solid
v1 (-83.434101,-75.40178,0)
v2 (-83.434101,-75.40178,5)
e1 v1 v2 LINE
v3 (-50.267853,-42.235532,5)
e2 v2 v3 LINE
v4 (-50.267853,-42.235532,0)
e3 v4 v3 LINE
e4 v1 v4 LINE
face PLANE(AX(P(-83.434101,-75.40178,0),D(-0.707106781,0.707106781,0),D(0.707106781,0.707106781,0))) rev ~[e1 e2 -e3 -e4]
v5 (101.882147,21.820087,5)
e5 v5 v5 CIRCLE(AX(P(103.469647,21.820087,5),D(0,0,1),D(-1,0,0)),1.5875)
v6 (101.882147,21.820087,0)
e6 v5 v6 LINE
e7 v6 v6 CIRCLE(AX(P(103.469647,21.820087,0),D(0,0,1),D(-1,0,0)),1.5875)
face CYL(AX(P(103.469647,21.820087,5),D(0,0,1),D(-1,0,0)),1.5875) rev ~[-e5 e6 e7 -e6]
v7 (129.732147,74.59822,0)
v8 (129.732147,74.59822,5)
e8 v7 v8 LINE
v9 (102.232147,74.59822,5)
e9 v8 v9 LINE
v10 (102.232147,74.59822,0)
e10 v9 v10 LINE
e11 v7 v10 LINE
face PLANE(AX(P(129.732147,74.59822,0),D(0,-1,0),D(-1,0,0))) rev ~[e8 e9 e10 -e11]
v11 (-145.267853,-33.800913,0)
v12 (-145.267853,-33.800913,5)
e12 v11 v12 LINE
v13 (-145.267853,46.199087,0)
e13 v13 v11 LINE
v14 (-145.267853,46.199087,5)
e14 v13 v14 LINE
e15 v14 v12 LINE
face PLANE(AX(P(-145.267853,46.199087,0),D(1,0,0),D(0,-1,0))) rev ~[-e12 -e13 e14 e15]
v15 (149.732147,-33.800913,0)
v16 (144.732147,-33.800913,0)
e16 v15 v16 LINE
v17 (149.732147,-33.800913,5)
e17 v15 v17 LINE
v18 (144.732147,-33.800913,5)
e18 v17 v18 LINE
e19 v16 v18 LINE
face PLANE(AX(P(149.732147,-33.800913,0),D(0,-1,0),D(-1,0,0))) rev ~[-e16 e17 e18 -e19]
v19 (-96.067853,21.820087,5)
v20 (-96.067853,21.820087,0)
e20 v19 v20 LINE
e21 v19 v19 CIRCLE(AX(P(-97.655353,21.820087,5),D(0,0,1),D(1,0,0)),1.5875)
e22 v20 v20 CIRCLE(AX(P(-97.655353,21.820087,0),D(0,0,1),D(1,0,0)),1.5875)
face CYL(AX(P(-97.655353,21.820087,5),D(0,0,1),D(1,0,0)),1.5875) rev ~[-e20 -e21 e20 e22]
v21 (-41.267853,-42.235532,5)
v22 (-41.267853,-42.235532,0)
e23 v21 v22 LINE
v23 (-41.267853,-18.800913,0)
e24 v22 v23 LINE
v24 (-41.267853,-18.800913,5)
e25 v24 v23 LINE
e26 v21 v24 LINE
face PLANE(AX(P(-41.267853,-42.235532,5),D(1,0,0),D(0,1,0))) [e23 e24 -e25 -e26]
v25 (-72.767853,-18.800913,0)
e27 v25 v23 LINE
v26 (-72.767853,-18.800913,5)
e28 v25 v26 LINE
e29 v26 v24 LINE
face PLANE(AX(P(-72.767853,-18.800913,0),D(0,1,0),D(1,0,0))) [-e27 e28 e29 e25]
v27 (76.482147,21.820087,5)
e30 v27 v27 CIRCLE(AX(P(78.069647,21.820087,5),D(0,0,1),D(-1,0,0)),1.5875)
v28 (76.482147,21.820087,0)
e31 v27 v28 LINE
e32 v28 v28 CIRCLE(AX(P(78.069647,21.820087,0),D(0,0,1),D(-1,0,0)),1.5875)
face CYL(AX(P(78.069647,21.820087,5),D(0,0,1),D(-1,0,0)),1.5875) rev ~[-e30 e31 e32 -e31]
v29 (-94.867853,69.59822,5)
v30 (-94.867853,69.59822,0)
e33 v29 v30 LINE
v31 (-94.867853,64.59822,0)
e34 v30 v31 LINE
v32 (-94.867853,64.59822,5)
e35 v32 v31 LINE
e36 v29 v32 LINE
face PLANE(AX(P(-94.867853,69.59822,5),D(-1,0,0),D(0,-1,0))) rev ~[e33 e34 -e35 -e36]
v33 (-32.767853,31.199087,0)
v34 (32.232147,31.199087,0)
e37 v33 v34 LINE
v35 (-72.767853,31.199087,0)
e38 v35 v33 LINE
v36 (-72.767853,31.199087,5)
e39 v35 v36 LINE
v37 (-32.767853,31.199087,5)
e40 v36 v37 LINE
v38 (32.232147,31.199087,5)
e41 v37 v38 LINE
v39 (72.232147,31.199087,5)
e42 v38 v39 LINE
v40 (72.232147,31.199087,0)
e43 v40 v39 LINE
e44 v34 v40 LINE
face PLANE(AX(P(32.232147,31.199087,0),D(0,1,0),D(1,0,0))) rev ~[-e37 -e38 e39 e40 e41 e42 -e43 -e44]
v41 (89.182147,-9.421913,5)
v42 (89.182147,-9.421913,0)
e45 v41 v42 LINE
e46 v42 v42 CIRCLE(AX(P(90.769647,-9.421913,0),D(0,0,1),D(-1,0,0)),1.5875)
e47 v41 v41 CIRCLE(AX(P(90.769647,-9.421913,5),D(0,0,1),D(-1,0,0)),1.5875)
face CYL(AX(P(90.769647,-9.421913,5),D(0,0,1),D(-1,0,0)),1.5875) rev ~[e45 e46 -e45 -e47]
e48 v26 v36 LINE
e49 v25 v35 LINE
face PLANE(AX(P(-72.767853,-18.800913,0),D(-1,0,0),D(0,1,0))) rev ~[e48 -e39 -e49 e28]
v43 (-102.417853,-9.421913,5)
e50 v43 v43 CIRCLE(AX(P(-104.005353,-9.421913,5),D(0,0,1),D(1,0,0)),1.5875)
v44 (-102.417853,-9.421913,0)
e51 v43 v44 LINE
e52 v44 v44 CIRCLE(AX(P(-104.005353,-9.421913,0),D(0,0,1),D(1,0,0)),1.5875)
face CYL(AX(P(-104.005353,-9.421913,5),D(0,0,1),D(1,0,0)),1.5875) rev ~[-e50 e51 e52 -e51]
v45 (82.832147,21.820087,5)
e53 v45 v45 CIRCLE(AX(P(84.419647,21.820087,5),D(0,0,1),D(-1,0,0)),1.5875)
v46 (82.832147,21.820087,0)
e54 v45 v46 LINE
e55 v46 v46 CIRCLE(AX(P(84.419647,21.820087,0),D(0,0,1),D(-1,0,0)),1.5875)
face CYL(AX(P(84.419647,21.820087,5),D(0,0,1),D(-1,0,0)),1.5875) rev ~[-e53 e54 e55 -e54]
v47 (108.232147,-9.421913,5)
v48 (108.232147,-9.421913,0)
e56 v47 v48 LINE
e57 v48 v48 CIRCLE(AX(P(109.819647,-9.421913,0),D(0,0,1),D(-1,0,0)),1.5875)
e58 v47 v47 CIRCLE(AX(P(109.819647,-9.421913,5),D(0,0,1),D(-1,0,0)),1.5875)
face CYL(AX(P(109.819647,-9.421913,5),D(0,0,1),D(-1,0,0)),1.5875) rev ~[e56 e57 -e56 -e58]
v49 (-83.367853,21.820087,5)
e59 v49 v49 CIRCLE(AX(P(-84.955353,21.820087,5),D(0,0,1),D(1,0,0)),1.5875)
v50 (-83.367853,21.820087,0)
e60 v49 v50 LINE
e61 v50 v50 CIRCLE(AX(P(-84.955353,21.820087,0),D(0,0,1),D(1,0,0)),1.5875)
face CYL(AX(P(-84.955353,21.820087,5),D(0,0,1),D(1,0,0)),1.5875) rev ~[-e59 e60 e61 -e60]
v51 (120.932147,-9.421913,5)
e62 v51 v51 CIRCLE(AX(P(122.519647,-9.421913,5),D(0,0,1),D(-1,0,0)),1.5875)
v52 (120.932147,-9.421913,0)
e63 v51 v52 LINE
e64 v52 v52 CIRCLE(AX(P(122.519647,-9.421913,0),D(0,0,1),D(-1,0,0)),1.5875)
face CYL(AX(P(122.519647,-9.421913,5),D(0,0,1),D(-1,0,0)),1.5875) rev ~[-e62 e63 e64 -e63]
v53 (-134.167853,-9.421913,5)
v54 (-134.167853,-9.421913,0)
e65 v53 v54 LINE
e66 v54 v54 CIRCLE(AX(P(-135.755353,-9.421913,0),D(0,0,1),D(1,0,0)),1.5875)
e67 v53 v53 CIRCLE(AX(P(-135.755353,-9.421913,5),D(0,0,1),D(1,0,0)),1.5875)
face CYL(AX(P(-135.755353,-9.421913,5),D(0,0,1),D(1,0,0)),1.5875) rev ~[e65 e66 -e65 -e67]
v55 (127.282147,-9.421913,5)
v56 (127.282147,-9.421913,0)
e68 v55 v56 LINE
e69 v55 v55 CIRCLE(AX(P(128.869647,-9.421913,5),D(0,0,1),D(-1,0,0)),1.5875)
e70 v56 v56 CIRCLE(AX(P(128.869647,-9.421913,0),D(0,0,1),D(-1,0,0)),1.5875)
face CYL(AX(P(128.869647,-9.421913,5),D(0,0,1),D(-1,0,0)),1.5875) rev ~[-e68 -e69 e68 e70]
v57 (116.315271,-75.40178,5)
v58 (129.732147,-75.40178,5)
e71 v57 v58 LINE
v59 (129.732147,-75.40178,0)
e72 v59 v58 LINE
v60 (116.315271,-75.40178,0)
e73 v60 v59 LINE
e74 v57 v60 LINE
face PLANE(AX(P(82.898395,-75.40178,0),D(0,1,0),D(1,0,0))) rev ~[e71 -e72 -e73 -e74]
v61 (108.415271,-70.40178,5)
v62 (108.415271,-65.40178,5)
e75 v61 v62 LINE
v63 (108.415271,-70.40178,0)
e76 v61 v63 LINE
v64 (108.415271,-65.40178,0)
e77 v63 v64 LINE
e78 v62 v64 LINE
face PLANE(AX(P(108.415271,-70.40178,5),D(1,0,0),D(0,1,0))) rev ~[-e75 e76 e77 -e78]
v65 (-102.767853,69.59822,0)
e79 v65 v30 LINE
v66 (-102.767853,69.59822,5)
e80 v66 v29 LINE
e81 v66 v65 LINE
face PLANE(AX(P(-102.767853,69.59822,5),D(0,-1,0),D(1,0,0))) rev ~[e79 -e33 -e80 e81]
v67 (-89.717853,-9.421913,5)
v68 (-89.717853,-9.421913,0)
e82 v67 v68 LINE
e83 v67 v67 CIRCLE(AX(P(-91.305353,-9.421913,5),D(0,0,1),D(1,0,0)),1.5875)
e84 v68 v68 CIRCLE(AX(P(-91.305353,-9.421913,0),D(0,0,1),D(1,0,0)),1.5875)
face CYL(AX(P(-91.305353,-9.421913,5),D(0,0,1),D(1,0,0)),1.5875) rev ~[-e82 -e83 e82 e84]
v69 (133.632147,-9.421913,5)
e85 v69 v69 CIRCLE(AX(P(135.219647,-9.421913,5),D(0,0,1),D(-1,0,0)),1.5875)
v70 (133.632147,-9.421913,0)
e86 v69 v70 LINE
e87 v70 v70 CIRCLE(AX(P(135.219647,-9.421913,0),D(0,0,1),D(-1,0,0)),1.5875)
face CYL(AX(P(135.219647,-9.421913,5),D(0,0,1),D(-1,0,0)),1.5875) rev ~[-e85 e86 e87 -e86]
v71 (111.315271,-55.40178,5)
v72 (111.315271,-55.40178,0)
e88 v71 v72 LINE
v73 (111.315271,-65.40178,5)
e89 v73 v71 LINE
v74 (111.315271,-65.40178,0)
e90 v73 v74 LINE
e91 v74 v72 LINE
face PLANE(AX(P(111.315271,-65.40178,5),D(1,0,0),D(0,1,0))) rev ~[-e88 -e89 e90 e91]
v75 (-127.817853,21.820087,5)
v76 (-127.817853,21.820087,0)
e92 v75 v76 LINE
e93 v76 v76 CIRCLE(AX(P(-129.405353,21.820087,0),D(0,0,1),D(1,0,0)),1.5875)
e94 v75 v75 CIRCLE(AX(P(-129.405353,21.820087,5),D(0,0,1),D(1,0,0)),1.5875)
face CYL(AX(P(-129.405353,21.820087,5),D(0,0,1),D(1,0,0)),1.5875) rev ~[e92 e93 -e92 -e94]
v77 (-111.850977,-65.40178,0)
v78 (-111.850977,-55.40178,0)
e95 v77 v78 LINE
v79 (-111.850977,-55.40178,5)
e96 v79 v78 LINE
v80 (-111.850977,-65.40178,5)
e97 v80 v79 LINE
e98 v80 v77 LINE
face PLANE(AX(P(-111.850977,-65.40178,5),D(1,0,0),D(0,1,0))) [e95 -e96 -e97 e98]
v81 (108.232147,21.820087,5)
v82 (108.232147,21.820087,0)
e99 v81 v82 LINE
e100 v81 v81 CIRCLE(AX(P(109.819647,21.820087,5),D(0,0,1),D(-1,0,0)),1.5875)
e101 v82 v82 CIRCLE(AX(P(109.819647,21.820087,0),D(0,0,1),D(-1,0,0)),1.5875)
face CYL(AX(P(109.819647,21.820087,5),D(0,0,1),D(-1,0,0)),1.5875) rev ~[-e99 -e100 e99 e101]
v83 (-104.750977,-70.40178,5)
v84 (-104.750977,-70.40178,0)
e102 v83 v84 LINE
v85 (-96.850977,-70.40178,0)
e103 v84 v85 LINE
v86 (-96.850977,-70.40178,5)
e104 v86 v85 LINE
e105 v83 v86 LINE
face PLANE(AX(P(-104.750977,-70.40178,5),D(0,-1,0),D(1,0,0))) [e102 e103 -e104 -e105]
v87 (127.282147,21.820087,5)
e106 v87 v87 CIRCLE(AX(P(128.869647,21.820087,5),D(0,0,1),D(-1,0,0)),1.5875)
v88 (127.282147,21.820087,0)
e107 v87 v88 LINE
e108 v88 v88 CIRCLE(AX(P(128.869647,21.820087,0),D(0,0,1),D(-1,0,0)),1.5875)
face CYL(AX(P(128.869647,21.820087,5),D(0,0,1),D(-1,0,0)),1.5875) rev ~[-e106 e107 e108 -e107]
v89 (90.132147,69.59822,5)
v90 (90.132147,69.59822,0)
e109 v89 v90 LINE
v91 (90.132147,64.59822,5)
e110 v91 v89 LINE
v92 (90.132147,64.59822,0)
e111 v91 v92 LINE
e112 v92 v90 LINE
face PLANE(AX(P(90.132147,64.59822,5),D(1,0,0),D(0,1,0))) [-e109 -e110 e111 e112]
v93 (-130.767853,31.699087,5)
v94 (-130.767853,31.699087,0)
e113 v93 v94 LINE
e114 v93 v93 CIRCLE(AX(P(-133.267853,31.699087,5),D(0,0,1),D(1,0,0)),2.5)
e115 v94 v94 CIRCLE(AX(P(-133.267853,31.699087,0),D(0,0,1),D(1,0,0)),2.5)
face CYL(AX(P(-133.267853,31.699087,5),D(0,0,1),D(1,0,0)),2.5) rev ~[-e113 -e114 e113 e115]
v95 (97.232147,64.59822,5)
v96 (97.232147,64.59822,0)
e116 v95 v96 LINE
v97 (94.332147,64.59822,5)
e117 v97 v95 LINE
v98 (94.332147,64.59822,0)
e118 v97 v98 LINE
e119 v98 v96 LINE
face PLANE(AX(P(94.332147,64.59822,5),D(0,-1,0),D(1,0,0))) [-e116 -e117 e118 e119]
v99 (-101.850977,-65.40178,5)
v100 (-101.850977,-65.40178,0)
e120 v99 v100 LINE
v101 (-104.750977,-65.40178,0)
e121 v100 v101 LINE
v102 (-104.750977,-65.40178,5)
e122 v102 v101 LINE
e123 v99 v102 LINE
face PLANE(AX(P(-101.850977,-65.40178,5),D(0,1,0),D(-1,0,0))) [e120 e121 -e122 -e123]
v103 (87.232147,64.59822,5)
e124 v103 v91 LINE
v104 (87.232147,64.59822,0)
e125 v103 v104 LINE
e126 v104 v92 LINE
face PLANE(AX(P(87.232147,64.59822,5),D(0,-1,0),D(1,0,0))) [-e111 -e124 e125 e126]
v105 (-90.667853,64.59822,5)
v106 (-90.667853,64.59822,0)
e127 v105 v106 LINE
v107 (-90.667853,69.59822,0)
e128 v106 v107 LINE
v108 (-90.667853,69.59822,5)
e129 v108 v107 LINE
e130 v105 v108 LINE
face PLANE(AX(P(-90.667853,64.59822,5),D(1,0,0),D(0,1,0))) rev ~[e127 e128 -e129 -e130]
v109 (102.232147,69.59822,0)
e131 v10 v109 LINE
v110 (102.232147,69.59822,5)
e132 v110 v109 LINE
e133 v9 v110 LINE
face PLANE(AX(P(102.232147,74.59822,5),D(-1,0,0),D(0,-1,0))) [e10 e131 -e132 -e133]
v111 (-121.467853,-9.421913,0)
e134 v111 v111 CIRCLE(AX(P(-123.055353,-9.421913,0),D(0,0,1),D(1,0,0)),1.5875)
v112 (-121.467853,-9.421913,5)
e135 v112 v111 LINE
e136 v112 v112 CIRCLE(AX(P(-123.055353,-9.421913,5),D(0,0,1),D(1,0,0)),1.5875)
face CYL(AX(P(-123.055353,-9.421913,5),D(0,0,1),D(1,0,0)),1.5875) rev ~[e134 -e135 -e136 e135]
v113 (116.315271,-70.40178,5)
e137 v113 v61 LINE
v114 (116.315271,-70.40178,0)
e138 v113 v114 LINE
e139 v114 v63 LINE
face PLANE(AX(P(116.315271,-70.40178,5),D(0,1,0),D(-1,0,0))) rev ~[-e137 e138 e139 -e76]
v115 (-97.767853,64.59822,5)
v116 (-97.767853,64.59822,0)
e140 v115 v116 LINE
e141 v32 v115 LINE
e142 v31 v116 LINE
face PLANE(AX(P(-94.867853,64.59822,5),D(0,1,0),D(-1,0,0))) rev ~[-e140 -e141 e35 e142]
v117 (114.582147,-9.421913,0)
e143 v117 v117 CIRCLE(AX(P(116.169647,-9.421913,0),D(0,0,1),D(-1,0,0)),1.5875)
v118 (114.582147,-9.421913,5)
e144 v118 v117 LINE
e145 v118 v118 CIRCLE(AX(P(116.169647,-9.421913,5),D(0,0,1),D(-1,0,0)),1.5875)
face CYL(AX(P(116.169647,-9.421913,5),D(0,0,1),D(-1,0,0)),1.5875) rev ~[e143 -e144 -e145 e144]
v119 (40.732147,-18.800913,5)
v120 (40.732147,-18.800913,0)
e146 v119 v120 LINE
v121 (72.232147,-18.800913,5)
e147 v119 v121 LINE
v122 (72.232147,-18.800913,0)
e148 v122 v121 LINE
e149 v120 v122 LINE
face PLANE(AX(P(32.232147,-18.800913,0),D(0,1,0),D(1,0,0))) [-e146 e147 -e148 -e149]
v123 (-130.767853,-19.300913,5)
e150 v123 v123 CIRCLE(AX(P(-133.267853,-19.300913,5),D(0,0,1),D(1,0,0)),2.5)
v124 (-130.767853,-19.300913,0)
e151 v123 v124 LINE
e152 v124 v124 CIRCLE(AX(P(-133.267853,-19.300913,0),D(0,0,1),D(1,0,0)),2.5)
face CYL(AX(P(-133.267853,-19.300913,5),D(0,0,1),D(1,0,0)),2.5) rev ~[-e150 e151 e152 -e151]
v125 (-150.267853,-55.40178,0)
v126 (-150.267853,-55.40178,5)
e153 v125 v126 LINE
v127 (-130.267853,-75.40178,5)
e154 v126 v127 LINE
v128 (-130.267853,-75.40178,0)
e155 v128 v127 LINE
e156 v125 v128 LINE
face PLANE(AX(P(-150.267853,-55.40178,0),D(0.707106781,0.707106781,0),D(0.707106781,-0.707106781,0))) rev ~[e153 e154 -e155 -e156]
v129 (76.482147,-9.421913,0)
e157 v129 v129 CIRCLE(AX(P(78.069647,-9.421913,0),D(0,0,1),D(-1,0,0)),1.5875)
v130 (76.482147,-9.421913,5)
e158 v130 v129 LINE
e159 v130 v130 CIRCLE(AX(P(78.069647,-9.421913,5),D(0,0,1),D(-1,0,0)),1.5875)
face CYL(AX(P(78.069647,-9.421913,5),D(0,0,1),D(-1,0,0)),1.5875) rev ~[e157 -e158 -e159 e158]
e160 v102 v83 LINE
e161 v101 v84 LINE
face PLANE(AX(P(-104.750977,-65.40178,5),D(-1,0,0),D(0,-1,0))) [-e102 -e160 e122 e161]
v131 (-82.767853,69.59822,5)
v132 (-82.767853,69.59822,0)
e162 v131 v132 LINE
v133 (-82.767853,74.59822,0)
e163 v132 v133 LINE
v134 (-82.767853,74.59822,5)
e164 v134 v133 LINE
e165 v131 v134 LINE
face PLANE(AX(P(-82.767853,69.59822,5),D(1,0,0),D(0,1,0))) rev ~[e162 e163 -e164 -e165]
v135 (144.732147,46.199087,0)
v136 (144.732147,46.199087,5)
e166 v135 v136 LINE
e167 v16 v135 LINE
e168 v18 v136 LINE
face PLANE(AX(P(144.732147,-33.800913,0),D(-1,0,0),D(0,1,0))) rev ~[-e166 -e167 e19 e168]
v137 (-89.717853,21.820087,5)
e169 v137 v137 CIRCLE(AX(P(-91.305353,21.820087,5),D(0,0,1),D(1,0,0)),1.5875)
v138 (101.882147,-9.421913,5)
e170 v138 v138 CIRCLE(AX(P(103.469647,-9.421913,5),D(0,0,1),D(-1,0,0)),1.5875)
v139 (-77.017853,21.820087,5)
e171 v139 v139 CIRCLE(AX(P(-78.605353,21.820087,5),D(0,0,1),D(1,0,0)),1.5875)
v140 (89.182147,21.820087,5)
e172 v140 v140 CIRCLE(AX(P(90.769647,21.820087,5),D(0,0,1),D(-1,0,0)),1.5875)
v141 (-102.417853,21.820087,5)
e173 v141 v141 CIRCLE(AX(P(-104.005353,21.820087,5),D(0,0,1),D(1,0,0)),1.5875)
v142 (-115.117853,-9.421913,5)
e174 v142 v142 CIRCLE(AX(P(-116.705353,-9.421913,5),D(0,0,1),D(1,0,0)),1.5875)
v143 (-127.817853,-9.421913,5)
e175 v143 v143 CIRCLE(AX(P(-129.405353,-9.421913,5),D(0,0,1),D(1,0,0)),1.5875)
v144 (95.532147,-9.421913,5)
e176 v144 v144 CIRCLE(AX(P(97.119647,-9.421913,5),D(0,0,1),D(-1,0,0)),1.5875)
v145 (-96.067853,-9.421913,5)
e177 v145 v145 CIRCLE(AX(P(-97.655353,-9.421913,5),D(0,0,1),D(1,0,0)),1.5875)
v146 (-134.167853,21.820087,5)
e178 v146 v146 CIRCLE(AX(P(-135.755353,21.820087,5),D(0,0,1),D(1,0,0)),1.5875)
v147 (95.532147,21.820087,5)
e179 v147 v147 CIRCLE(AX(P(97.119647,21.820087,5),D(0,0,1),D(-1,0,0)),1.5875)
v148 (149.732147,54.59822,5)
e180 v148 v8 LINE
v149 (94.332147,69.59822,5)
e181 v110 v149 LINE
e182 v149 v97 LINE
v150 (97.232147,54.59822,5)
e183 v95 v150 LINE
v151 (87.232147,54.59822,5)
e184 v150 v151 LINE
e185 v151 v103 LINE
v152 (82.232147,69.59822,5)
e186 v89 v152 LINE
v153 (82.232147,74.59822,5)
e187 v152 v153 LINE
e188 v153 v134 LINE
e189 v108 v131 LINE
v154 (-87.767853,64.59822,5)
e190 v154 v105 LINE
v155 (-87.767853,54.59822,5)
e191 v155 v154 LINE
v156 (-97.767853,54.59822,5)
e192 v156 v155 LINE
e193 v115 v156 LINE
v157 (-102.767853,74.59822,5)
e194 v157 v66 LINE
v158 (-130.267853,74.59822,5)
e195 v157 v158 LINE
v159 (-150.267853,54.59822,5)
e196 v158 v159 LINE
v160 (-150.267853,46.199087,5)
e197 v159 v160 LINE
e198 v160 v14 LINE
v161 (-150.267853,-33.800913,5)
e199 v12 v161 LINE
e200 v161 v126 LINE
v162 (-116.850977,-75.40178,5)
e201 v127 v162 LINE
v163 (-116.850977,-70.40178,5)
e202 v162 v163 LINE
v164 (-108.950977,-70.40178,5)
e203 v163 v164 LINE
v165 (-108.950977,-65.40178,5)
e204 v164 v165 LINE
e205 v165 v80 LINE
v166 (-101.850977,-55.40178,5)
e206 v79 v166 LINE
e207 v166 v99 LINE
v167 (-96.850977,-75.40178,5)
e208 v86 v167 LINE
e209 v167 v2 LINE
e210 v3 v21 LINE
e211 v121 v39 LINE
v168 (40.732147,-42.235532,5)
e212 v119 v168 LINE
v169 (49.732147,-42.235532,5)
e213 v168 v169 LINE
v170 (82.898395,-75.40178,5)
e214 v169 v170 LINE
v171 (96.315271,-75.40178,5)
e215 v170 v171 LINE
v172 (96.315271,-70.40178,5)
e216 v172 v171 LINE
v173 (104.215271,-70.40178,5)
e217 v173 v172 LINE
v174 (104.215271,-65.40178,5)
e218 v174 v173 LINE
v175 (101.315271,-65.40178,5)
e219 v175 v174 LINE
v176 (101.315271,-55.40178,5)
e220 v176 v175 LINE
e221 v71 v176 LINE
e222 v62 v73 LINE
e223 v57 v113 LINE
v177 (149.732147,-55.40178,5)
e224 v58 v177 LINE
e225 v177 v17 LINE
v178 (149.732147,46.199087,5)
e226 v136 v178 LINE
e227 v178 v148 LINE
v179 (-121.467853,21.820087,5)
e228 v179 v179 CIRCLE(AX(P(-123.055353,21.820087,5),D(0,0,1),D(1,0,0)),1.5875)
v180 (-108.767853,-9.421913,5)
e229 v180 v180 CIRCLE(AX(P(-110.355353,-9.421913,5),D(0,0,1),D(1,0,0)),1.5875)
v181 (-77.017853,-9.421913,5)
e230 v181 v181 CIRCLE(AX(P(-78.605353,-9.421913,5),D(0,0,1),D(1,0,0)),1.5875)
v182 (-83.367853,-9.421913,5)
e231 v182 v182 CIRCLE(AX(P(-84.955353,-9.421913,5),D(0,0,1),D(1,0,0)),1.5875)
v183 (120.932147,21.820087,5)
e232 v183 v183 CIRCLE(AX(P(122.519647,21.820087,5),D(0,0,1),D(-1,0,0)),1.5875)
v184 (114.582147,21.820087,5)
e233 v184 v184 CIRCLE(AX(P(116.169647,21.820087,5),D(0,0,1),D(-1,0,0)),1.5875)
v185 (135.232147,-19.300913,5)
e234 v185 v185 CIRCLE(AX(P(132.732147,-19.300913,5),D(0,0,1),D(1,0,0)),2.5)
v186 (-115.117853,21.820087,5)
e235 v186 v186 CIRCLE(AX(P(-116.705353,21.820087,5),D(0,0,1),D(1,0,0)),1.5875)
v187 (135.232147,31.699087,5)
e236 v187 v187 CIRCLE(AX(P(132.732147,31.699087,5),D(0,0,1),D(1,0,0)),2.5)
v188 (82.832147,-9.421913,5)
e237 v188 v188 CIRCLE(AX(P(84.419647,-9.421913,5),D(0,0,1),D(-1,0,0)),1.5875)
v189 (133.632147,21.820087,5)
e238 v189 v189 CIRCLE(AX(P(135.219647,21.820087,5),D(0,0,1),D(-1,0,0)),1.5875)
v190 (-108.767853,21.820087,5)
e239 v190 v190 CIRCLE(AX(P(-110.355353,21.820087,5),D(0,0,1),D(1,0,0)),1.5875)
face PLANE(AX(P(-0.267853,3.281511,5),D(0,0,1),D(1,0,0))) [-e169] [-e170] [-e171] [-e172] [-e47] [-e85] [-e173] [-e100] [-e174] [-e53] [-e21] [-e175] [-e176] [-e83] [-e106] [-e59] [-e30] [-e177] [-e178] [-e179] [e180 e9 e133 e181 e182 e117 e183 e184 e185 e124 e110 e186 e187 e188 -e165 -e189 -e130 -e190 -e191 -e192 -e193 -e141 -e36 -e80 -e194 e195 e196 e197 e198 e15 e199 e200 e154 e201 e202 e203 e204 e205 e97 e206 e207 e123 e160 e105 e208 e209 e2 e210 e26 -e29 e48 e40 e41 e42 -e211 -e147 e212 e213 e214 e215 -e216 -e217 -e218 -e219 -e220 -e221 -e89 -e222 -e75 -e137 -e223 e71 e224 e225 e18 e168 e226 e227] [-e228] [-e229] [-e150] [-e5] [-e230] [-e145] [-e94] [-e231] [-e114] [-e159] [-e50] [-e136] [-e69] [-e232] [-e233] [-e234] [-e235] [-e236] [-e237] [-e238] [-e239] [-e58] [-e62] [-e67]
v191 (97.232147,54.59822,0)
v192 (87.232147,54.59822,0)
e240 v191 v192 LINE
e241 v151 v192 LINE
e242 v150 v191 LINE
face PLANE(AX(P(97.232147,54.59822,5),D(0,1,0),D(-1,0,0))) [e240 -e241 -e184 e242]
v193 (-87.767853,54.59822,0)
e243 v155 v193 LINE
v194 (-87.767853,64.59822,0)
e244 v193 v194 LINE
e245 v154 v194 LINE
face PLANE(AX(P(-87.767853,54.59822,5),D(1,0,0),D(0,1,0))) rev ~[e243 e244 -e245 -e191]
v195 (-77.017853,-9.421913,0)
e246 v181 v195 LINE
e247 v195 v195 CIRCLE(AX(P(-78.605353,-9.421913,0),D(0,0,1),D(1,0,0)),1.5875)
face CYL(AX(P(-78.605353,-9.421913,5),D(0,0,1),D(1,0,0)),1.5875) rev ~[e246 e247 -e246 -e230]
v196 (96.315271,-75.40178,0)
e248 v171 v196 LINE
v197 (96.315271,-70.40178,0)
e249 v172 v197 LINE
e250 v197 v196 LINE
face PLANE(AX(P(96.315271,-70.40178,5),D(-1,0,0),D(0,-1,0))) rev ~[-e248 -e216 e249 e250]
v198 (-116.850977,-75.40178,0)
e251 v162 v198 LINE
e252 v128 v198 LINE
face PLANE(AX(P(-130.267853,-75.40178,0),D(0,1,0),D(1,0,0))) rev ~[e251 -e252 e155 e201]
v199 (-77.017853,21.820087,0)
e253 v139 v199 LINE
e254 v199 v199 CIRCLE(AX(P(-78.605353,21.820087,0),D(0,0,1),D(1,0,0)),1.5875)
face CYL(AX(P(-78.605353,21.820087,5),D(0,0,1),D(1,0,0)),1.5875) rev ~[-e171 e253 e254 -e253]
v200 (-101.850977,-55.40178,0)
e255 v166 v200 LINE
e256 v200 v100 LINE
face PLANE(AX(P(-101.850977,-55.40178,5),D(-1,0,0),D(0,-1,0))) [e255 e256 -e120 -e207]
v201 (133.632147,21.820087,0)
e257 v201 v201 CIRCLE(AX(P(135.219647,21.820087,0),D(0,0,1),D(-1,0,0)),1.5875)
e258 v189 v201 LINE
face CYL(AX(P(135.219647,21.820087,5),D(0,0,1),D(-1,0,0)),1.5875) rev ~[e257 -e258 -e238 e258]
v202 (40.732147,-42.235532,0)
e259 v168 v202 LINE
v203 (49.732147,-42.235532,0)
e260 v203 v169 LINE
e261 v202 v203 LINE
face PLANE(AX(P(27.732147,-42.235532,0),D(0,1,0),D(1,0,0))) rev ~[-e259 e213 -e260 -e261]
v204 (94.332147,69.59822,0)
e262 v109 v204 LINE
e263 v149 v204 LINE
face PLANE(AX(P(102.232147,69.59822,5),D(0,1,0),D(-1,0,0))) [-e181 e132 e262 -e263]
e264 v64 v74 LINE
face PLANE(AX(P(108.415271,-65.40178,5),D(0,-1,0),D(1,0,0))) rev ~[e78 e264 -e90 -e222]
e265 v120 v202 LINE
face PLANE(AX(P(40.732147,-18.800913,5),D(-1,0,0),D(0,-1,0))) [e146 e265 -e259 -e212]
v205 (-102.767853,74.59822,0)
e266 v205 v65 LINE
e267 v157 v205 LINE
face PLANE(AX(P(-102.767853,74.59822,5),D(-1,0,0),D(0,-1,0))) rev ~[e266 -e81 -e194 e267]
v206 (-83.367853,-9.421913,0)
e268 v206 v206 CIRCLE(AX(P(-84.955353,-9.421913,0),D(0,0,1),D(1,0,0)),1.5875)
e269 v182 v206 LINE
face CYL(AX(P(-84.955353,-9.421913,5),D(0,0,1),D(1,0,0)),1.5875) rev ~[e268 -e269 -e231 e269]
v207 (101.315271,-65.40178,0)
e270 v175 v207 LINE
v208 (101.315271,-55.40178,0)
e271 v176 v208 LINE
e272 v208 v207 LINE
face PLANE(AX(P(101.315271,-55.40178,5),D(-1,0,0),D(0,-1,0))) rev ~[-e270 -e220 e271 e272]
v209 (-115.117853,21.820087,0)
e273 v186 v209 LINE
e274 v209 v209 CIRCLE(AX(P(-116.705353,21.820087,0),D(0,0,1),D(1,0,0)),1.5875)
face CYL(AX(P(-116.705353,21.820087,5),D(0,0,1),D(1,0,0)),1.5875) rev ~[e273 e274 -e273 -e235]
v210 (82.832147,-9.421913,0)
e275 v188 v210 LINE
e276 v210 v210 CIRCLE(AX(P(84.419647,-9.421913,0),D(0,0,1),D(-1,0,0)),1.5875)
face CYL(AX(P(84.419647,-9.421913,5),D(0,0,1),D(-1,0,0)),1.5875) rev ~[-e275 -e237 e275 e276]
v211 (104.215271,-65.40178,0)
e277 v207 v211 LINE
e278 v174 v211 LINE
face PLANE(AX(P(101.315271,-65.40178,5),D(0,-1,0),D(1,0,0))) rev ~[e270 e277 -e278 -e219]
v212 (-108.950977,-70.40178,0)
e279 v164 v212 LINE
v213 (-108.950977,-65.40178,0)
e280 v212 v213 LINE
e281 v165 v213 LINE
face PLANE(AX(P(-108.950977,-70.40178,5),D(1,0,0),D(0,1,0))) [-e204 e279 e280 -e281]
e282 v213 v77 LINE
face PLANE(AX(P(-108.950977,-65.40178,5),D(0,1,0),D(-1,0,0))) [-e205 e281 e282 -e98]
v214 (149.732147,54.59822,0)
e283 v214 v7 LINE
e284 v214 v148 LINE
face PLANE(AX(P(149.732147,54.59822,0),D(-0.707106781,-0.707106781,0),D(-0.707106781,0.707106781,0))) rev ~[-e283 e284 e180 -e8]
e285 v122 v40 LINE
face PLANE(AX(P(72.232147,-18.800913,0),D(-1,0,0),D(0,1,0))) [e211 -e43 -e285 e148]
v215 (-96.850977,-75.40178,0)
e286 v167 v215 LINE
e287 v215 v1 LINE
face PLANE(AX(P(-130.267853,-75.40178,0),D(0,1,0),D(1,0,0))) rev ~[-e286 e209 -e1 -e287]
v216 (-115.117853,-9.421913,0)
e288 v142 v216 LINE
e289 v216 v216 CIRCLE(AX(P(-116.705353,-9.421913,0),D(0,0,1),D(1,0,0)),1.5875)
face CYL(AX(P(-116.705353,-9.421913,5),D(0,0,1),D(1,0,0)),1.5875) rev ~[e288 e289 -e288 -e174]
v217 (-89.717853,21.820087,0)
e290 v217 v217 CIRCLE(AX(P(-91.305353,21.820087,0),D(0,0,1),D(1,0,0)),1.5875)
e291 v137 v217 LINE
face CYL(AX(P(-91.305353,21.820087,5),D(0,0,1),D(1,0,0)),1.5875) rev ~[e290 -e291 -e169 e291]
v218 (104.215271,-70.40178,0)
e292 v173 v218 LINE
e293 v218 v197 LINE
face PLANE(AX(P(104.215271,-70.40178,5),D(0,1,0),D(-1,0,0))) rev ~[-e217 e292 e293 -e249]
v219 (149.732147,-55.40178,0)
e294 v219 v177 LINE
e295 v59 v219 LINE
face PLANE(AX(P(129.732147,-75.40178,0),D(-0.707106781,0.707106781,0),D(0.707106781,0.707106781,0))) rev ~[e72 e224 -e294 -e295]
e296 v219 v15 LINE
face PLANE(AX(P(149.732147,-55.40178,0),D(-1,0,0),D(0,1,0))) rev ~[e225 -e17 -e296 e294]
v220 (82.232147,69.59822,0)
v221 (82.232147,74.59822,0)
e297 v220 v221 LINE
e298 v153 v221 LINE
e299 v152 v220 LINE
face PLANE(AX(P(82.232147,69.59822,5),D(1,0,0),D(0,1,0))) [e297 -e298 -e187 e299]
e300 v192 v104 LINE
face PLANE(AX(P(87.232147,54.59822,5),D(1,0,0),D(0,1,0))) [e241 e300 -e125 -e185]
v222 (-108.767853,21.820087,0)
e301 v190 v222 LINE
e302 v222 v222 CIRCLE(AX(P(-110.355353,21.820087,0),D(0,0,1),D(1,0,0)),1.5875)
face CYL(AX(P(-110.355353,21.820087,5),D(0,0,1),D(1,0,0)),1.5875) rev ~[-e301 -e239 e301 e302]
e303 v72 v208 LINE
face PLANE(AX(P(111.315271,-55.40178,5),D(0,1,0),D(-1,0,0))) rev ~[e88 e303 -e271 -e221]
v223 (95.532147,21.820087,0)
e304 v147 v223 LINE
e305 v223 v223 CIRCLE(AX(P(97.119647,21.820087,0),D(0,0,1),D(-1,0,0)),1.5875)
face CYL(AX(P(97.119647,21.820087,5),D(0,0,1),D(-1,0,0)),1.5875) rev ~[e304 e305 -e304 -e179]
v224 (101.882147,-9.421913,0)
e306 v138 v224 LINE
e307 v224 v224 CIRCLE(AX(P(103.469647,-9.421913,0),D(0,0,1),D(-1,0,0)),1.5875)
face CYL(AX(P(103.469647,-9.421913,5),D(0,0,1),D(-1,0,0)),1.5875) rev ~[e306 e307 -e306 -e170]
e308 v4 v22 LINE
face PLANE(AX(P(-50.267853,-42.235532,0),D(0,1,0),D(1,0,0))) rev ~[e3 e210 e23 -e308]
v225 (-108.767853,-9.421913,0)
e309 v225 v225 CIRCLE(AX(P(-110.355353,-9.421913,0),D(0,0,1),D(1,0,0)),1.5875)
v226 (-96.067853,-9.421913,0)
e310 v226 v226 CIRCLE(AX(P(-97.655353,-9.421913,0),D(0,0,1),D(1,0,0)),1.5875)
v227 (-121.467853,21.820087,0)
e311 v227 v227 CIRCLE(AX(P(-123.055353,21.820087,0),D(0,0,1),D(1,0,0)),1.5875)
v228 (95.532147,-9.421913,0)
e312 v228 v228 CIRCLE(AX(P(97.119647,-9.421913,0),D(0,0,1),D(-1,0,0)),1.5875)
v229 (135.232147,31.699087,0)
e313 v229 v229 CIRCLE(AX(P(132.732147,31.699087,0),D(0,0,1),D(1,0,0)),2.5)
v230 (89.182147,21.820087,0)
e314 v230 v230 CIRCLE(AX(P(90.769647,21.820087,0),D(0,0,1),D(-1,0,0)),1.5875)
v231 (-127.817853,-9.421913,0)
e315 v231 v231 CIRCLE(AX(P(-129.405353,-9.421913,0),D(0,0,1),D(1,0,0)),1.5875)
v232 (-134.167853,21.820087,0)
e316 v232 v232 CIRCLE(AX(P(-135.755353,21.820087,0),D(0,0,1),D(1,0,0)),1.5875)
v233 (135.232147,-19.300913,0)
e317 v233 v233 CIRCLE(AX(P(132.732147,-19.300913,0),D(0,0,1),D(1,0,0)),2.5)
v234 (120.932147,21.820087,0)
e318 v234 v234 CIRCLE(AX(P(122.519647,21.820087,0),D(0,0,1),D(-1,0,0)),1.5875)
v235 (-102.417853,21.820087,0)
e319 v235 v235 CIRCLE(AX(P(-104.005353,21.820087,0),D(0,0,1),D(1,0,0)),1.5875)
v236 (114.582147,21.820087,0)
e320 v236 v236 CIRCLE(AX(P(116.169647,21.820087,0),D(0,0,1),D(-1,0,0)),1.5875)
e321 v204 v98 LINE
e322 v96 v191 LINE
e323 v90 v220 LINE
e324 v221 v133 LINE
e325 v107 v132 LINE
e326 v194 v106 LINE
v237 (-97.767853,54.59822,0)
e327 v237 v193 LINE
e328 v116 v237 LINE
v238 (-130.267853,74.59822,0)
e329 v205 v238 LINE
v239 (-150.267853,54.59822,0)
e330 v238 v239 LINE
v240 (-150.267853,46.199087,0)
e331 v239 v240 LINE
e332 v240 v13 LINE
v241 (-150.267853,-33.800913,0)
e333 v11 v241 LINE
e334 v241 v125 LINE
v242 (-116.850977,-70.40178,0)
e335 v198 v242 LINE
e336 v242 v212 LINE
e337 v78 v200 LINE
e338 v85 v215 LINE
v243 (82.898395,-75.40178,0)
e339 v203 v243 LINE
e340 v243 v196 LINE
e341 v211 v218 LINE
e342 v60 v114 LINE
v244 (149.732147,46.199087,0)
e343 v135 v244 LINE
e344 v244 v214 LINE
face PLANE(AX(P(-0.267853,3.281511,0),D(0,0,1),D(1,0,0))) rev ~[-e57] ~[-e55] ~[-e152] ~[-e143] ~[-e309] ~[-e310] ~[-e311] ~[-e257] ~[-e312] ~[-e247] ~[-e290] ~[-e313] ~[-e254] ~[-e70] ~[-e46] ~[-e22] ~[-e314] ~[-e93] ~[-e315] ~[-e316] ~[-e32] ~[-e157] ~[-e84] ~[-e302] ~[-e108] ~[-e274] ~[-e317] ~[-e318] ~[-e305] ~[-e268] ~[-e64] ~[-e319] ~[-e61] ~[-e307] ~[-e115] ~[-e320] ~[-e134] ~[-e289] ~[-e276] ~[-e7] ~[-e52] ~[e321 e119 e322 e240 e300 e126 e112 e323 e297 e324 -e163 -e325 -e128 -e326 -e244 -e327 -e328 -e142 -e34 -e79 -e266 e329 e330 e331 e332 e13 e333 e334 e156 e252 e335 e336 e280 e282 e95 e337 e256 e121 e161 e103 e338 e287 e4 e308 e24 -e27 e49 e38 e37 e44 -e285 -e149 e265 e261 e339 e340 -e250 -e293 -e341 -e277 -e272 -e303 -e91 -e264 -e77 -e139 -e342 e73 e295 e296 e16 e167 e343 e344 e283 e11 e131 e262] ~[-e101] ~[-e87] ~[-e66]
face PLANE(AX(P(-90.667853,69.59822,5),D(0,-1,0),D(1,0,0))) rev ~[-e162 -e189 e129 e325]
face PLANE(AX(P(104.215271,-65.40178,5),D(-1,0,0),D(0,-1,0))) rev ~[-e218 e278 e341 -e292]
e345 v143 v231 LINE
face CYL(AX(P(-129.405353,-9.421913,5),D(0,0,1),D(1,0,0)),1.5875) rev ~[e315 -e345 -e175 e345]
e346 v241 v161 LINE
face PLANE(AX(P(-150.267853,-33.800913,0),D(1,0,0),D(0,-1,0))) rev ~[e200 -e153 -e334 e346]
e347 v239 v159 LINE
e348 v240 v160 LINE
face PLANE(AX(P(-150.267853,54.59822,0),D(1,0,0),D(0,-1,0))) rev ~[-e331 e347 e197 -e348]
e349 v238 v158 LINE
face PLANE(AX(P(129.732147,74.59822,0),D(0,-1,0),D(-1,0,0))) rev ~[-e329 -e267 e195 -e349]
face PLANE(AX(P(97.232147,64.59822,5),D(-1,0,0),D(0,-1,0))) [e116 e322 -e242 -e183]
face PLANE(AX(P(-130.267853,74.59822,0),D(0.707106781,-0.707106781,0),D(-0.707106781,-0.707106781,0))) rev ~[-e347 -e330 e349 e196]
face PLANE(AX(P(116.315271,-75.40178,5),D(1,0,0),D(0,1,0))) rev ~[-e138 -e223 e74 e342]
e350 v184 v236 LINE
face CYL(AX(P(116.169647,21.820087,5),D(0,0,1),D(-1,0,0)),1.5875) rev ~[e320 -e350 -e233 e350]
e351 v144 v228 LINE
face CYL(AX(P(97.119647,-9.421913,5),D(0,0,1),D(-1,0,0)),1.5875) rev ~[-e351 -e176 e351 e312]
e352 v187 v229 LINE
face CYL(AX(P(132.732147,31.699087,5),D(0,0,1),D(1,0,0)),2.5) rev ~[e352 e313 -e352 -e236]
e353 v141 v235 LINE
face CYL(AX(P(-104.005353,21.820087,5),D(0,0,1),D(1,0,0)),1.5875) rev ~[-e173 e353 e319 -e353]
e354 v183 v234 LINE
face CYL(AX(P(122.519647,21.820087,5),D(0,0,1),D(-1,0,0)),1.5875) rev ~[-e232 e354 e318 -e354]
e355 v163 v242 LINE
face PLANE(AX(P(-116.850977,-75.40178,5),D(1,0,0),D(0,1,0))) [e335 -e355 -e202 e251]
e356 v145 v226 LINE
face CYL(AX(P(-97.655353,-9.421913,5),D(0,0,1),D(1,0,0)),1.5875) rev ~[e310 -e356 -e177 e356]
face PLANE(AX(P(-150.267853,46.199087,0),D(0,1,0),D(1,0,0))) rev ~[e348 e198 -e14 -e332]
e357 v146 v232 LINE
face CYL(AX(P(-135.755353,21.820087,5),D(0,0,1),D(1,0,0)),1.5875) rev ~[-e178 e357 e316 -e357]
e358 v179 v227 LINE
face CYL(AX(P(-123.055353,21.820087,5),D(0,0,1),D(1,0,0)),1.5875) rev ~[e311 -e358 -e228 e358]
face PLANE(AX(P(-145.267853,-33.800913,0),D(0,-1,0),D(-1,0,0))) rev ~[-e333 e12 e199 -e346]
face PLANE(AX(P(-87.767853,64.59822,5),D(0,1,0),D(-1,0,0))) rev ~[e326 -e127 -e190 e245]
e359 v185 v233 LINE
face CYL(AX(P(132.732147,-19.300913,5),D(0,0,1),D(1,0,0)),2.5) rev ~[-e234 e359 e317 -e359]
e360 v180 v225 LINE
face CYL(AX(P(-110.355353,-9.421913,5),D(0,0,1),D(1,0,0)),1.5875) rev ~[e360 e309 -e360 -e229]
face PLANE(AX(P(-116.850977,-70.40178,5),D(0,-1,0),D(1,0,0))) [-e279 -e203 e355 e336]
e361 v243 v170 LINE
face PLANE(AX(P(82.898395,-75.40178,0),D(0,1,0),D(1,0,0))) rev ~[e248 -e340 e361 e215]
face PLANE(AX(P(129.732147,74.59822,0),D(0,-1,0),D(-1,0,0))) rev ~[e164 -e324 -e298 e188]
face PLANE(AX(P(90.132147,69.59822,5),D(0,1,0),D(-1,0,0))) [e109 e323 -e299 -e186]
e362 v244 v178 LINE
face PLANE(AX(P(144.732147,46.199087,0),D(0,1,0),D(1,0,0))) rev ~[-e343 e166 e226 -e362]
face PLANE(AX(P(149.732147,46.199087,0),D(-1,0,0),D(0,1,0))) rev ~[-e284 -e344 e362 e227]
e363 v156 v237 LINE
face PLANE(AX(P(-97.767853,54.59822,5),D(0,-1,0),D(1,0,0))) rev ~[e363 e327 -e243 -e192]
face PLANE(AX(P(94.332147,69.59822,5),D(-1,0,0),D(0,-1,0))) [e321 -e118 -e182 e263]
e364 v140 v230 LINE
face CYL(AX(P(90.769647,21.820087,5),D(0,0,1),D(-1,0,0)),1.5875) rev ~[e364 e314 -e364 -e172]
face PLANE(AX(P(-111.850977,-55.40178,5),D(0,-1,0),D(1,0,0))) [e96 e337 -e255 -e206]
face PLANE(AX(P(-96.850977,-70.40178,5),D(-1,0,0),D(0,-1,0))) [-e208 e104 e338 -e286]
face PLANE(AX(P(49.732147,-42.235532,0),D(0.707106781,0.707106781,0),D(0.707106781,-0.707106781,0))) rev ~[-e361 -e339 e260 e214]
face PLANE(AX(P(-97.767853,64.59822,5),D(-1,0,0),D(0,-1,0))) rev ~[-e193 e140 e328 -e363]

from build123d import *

# Parameters (mm, degrees)
SKETCH1_W           = 40
SKETCH1_H           = 50
BOSS_EXTRUDE1_DEPTH = 5
CUT_EXTRUDE1_DEPTH  = 169.198858526
FILLET1_R           = 3
SKETCH3_R           = 1.5875
CUT_EXTRUDE2_DEPTH  = 169.198858526
CUT_EXTRUDE3_DEPTH  = 169.198858526
CUT_EXTRUDE5_DEPTH  = 5
SKETCH7_R           = 2.5
CUT_EXTRUDE6_DEPTH  = 5
SKETCH8_W           = 65
SKETCH8_H           = 22.934618833
CUT_EXTRUDE7_DEPTH  = 5


with BuildPart() as part:
    # Sketch1 → Boss-Extrude1 (new body)
    with BuildSketch(Plane.XY):
        with BuildLine():
            Line((149.732146976, -33.800912799), (144.732146976, -33.800912799))
            Line((144.732146976, -33.800912799), (144.732146976, 46.199087201))
            Line((144.732146976, 46.199087201), (149.732146976, 46.199087201))
            Line((149.732146976, 46.199087201), (149.732146976, 54.598220465))
            Line((149.732146976, 54.598220465), (129.732146976, 74.598220465))
            Line((129.732146976, 74.598220465), (-130.267853024, 74.598220465))
            Line((-130.267853024, 74.598220465), (-150.267853024, 54.598220465))
            Line((-150.267853024, 54.598220465), (-150.267853024, 46.199087201))
            Line((-150.267853024, 46.199087201), (-145.267853024, 46.199087201))
            Line((-145.267853024, 46.199087201), (-145.267853024, -33.800912799))
            Line((-145.267853024, -33.800912799), (-150.267853024, -33.800912799))
            Line((-150.267853024, -33.800912799), (-150.267853024, -55.401779535))
            Line((-150.267853024, -55.401779535), (-130.267853024, -75.401779535))
            Line((-130.267853024, -75.401779535), (-83.434100927, -75.401779535))
            Line((-83.434100927, -75.401779535), (-50.267853024, -42.235531632))
            Line((-50.267853024, -42.235531632), (-28.267853024, -42.235531632))
            ThreePointArc((-28.267853024, -42.235531632), (-26.14653268, -41.356851975), (-25.267853024, -39.235531632))
            Line((-25.267853024, -39.235531632), (-25.267853024, 1.264468368))
            ThreePointArc((-25.267853024, 1.264468368), (-24.389173367, 3.385788712), (-22.267853024, 4.264468368))
            Line((-22.267853024, 4.264468368), (21.732146976, 4.264468368))
            ThreePointArc((21.732146976, 4.264468368), (23.85346732, 3.385788712), (24.732146976, 1.264468368))
            Line((24.732146976, 1.264468368), (24.732146976, -39.235531632))
            ThreePointArc((24.732146976, -39.235531632), (25.610826633, -41.356851975), (27.732146976, -42.235531632))
            Line((27.732146976, -42.235531632), (49.732146976, -42.235531632))
            Line((49.732146976, -42.235531632), (82.89839488, -75.401779535))
            Line((82.89839488, -75.401779535), (129.732146976, -75.401779535))
            Line((129.732146976, -75.401779535), (149.732146976, -55.401779535))
            Line((149.732146976, -55.401779535), (149.732146976, -33.800912799))
        make_face()
        with Locations((-52.767853024, 6.199087201)):
            Rectangle(SKETCH1_W, SKETCH1_H, mode=Mode.SUBTRACT)
        with Locations((52.232146976, 6.199087201)):
            Rectangle(SKETCH1_W, SKETCH1_H, mode=Mode.SUBTRACT)
    extrude(amount=BOSS_EXTRUDE1_DEPTH)

    # Sketch2 → Cut-Extrude1 (cut, through all)
    with BuildSketch(Plane.XY.offset(5)):
        with BuildLine():
            ThreePointArc((21.732146976, 4.264468368), (23.85346732, 3.385788712), (24.732146976, 1.264468368))
            Line((24.732146976, 1.264468368), (24.732146976, -39.235531632))
            ThreePointArc((24.732146976, -39.235531632), (25.610826633, -41.356851975), (27.732146976, -42.235531632))
            Line((27.732146976, -42.235531632), (28.732146976, -42.235531632))
            Line((28.732146976, -42.235531632), (28.732146976, -38.362548286))
            Line((28.732146976, -38.362548286), (28.732146976, 1.264468368))
            ThreePointArc((28.732146976, 1.264468368), (26.681894445, 6.214215837), (21.732146976, 8.264468368))
            Line((21.732146976, 8.264468368), (-22.267853024, 8.264468368))
            ThreePointArc((-22.267853024, 8.264468368), (-27.217600492, 6.214215837), (-29.267853024, 1.264468368))
            Line((-29.267853024, 1.264468368), (-29.267853024, -38.362548286))
            Line((-29.267853024, -38.362548286), (-29.267853024, -42.235531632))
            Line((-29.267853024, -42.235531632), (-28.267853024, -42.235531632))
            ThreePointArc((-28.267853024, -42.235531632), (-26.14653268, -41.356851975), (-25.267853024, -39.235531632))
            Line((-25.267853024, -39.235531632), (-25.267853024, 1.264468368))
            ThreePointArc((-25.267853024, 1.264468368), (-24.389173367, 3.385788712), (-22.267853024, 4.264468368))
            Line((-22.267853024, 4.264468368), (21.732146976, 4.264468368))
        make_face()
    extrude(amount=-CUT_EXTRUDE1_DEPTH, mode=Mode.SUBTRACT)

    # Fillet1
    fillet1_edges = [part.edges().sort_by_distance(p)[0] for p in [
        (28.732146976, -42.235531632, 2.5),
        (-29.267853024, -42.235531632, 2.5),
    ]]
    fillet(fillet1_edges, radius=FILLET1_R)

    # Sketch3 → Cut-Extrude2 (cut, through all)
    with BuildSketch(Plane.XY.offset(5)):
        with Locations((-78.605353024, -9.421912799)):
            Circle(SKETCH3_R)
        with Locations((-78.605353024, 21.820087201)):
            Circle(SKETCH3_R)
        with Locations((-84.955353024, -9.421912799)):
            Circle(SKETCH3_R)
        with Locations((-84.955353024, 21.820087201)):
            Circle(SKETCH3_R)
        with Locations((-91.305353024, -9.421912799)):
            Circle(SKETCH3_R)
        with Locations((-91.305353024, 21.820087201)):
            Circle(SKETCH3_R)
        with Locations((-97.655353024, -9.421912799)):
            Circle(SKETCH3_R)
        with Locations((-97.655353024, 21.820087201)):
            Circle(SKETCH3_R)
        with Locations((-104.005353024, -9.421912799)):
            Circle(SKETCH3_R)
        with Locations((-104.005353024, 21.820087201)):
            Circle(SKETCH3_R)
        with Locations((-110.355353024, -9.421912799)):
            Circle(SKETCH3_R)
        with Locations((-110.355353024, 21.820087201)):
            Circle(SKETCH3_R)
        with Locations((-116.705353024, -9.421912799)):
            Circle(SKETCH3_R)
        with Locations((-116.705353024, 21.820087201)):
            Circle(SKETCH3_R)
        with Locations((-123.055353024, -9.421912799)):
            Circle(SKETCH3_R)
        with Locations((-123.055353024, 21.820087201)):
            Circle(SKETCH3_R)
        with Locations((-129.405353024, -9.421912799)):
            Circle(SKETCH3_R)
        with Locations((-129.405353024, 21.820087201)):
            Circle(SKETCH3_R)
        with Locations((-135.755353024, -9.421912799)):
            Circle(SKETCH3_R)
        with Locations((-135.755353024, 21.820087201)):
            Circle(SKETCH3_R)
        with Locations(Location((135.219646976, 21.820087201, 0), (0, 0, 180))):
            Circle(SKETCH3_R)
        with Locations(Location((135.219646976, -9.421912799, 0), (0, 0, 180))):
            Circle(SKETCH3_R)
        with Locations(Location((128.869646976, 21.820087201, 0), (0, 0, 180))):
            Circle(SKETCH3_R)
        with Locations(Location((128.869646976, -9.421912799, 0), (0, 0, 180))):
            Circle(SKETCH3_R)
        with Locations(Location((122.519646976, 21.820087201, 0), (0, 0, 180))):
            Circle(SKETCH3_R)
        with Locations(Location((122.519646976, -9.421912799, 0), (0, 0, 180))):
            Circle(SKETCH3_R)
        with Locations(Location((116.169646976, 21.820087201, 0), (0, 0, 180))):
            Circle(SKETCH3_R)
        with Locations(Location((116.169646976, -9.421912799, 0), (0, 0, 180))):
            Circle(SKETCH3_R)
        with Locations(Location((109.819646976, 21.820087201, 0), (0, 0, 180))):
            Circle(SKETCH3_R)
        with Locations(Location((109.819646976, -9.421912799, 0), (0, 0, 180))):
            Circle(SKETCH3_R)
        with Locations(Location((103.469646976, 21.820087201, 0), (0, 0, 180))):
            Circle(SKETCH3_R)
        with Locations(Location((103.469646976, -9.421912799, 0), (0, 0, 180))):
            Circle(SKETCH3_R)
        with Locations(Location((97.119646976, 21.820087201, 0), (0, 0, 180))):
            Circle(SKETCH3_R)
        with Locations(Location((97.119646976, -9.421912799, 0), (0, 0, 180))):
            Circle(SKETCH3_R)
        with Locations(Location((90.769646976, 21.820087201, 0), (0, 0, 180))):
            Circle(SKETCH3_R)
        with Locations(Location((90.769646976, -9.421912799, 0), (0, 0, 180))):
            Circle(SKETCH3_R)
        with Locations(Location((84.419646976, 21.820087201, 0), (0, 0, 180))):
            Circle(SKETCH3_R)
        with Locations(Location((84.419646976, -9.421912799, 0), (0, 0, 180))):
            Circle(SKETCH3_R)
        with Locations(Location((78.069646976, 21.820087201, 0), (0, 0, 180))):
            Circle(SKETCH3_R)
        with Locations(Location((78.069646976, -9.421912799, 0), (0, 0, 180))):
            Circle(SKETCH3_R)
    extrude(amount=-CUT_EXTRUDE2_DEPTH, mode=Mode.SUBTRACT)

    # Sketch4 → Cut-Extrude3 (cut, through all)
    with BuildSketch(Plane.XY.offset(5)):
        with BuildLine():
            Line((-41.267853024, -42.235531632), (-41.267853024, -18.800912799))
            Line((-41.267853024, -18.800912799), (-32.767853024, -18.800912799))
            Line((-32.767853024, -18.800912799), (-32.767853024, 8.264468368))
            Line((-32.767853024, 8.264468368), (-22.267853024, 8.264468368))
            ThreePointArc((-22.267853024, 8.264468368), (-27.217600492, 6.214215837), (-29.267853024, 1.264468368))
            Line((-29.267853024, 1.264468368), (-29.267853024, -39.235531632))
            ThreePointArc((-29.267853024, -39.235531632), (-30.14653268, -41.356851975), (-32.267853024, -42.235531632))
            Line((-32.267853024, -42.235531632), (-41.267853024, -42.235531632))
        make_face()
        with BuildLine():
            Line((21.732146976, 8.264468368), (32.232146976, 8.264468368))
            Line((32.232146976, 8.264468368), (32.232146976, -18.800912799))
            Line((32.232146976, -18.800912799), (40.732146976, -18.800912799))
            Line((40.732146976, -18.800912799), (40.732146976, -42.235531632))
            Line((40.732146976, -42.235531632), (31.732146976, -42.235531632))
            ThreePointArc((31.732146976, -42.235531632), (29.610826633, -41.356851975), (28.732146976, -39.235531632))
            Line((28.732146976, -39.235531632), (28.732146976, 1.264468368))
            ThreePointArc((28.732146976, 1.264468368), (26.681894445, 6.214215837), (21.732146976, 8.264468368))
        make_face()
    extrude(amount=-CUT_EXTRUDE3_DEPTH, mode=Mode.SUBTRACT)

    # Sketch6 → Cut-Extrude5 (cut)
    with BuildSketch(Plane.XY.offset(5)):
        Polygon((-102.767853024, 74.598220465), (-102.767853024, 69.598220465), (-94.867853024, 69.598220465), (-94.867853024, 64.598220465), (-97.767853024, 64.598220465), (-97.767853024, 54.598220465), (-87.767853024, 54.598220465), (-87.767853024, 64.598220465), (-90.667853024, 64.598220465), (-90.667853024, 69.598220465), (-82.767853024, 69.598220465), (-82.767853024, 74.598220465), align=None)
        Polygon((-116.850976975, -75.401779535), (-116.850976975, -70.401779535), (-108.950976975, -70.401779535), (-108.950976975, -65.401779535), (-111.850976975, -65.401779535), (-111.850976975, -55.401779535), (-101.850976975, -55.401779535), (-101.850976975, -65.401779535), (-104.750976975, -65.401779535), (-104.750976975, -70.401779535), (-96.850976975, -70.401779535), (-96.850976975, -75.401779535), align=None)
        Polygon((104.215270928, -70.401779535), (96.315270928, -70.401779535), (96.315270928, -75.401779535), (116.315270928, -75.401779535), (116.315270928, -70.401779535), (108.415270928, -70.401779535), (108.415270928, -65.401779535), (111.315270928, -65.401779535), (111.315270928, -55.401779535), (101.315270928, -55.401779535), (101.315270928, -65.401779535), (104.215270928, -65.401779535), align=None)
        Polygon((90.132146976, 69.598220465), (82.232146976, 69.598220465), (82.232146976, 74.598220465), (102.232146976, 74.598220465), (102.232146976, 69.598220465), (94.332146976, 69.598220465), (94.332146976, 64.598220465), (97.232146976, 64.598220465), (97.232146976, 54.598220465), (87.232146976, 54.598220465), (87.232146976, 64.598220465), (90.132146976, 64.598220465), align=None)
    extrude(amount=-CUT_EXTRUDE5_DEPTH, mode=Mode.SUBTRACT)

    # Sketch7 → Cut-Extrude6 (cut)
    with BuildSketch(Plane.XY.offset(5)):
        with Locations((-133.267853024, -19.300912799)):
            Circle(SKETCH7_R)
        with Locations((-133.267853024, 31.699087201)):
            Circle(SKETCH7_R)
        with Locations((132.732146976, -19.300912799)):
            Circle(SKETCH7_R)
        with Locations((132.732146976, 31.699087201)):
            Circle(SKETCH7_R)
    extrude(amount=-CUT_EXTRUDE6_DEPTH, mode=Mode.SUBTRACT)

    # Sketch8 → Cut-Extrude7 (cut)
    with BuildSketch(Plane.XY.offset(5)):
        with Locations((-0.267853024, 19.731777785)):
            Rectangle(SKETCH8_W, SKETCH8_H)
    extrude(amount=-CUT_EXTRUDE7_DEPTH, mode=Mode.SUBTRACT)


solid = part.part
